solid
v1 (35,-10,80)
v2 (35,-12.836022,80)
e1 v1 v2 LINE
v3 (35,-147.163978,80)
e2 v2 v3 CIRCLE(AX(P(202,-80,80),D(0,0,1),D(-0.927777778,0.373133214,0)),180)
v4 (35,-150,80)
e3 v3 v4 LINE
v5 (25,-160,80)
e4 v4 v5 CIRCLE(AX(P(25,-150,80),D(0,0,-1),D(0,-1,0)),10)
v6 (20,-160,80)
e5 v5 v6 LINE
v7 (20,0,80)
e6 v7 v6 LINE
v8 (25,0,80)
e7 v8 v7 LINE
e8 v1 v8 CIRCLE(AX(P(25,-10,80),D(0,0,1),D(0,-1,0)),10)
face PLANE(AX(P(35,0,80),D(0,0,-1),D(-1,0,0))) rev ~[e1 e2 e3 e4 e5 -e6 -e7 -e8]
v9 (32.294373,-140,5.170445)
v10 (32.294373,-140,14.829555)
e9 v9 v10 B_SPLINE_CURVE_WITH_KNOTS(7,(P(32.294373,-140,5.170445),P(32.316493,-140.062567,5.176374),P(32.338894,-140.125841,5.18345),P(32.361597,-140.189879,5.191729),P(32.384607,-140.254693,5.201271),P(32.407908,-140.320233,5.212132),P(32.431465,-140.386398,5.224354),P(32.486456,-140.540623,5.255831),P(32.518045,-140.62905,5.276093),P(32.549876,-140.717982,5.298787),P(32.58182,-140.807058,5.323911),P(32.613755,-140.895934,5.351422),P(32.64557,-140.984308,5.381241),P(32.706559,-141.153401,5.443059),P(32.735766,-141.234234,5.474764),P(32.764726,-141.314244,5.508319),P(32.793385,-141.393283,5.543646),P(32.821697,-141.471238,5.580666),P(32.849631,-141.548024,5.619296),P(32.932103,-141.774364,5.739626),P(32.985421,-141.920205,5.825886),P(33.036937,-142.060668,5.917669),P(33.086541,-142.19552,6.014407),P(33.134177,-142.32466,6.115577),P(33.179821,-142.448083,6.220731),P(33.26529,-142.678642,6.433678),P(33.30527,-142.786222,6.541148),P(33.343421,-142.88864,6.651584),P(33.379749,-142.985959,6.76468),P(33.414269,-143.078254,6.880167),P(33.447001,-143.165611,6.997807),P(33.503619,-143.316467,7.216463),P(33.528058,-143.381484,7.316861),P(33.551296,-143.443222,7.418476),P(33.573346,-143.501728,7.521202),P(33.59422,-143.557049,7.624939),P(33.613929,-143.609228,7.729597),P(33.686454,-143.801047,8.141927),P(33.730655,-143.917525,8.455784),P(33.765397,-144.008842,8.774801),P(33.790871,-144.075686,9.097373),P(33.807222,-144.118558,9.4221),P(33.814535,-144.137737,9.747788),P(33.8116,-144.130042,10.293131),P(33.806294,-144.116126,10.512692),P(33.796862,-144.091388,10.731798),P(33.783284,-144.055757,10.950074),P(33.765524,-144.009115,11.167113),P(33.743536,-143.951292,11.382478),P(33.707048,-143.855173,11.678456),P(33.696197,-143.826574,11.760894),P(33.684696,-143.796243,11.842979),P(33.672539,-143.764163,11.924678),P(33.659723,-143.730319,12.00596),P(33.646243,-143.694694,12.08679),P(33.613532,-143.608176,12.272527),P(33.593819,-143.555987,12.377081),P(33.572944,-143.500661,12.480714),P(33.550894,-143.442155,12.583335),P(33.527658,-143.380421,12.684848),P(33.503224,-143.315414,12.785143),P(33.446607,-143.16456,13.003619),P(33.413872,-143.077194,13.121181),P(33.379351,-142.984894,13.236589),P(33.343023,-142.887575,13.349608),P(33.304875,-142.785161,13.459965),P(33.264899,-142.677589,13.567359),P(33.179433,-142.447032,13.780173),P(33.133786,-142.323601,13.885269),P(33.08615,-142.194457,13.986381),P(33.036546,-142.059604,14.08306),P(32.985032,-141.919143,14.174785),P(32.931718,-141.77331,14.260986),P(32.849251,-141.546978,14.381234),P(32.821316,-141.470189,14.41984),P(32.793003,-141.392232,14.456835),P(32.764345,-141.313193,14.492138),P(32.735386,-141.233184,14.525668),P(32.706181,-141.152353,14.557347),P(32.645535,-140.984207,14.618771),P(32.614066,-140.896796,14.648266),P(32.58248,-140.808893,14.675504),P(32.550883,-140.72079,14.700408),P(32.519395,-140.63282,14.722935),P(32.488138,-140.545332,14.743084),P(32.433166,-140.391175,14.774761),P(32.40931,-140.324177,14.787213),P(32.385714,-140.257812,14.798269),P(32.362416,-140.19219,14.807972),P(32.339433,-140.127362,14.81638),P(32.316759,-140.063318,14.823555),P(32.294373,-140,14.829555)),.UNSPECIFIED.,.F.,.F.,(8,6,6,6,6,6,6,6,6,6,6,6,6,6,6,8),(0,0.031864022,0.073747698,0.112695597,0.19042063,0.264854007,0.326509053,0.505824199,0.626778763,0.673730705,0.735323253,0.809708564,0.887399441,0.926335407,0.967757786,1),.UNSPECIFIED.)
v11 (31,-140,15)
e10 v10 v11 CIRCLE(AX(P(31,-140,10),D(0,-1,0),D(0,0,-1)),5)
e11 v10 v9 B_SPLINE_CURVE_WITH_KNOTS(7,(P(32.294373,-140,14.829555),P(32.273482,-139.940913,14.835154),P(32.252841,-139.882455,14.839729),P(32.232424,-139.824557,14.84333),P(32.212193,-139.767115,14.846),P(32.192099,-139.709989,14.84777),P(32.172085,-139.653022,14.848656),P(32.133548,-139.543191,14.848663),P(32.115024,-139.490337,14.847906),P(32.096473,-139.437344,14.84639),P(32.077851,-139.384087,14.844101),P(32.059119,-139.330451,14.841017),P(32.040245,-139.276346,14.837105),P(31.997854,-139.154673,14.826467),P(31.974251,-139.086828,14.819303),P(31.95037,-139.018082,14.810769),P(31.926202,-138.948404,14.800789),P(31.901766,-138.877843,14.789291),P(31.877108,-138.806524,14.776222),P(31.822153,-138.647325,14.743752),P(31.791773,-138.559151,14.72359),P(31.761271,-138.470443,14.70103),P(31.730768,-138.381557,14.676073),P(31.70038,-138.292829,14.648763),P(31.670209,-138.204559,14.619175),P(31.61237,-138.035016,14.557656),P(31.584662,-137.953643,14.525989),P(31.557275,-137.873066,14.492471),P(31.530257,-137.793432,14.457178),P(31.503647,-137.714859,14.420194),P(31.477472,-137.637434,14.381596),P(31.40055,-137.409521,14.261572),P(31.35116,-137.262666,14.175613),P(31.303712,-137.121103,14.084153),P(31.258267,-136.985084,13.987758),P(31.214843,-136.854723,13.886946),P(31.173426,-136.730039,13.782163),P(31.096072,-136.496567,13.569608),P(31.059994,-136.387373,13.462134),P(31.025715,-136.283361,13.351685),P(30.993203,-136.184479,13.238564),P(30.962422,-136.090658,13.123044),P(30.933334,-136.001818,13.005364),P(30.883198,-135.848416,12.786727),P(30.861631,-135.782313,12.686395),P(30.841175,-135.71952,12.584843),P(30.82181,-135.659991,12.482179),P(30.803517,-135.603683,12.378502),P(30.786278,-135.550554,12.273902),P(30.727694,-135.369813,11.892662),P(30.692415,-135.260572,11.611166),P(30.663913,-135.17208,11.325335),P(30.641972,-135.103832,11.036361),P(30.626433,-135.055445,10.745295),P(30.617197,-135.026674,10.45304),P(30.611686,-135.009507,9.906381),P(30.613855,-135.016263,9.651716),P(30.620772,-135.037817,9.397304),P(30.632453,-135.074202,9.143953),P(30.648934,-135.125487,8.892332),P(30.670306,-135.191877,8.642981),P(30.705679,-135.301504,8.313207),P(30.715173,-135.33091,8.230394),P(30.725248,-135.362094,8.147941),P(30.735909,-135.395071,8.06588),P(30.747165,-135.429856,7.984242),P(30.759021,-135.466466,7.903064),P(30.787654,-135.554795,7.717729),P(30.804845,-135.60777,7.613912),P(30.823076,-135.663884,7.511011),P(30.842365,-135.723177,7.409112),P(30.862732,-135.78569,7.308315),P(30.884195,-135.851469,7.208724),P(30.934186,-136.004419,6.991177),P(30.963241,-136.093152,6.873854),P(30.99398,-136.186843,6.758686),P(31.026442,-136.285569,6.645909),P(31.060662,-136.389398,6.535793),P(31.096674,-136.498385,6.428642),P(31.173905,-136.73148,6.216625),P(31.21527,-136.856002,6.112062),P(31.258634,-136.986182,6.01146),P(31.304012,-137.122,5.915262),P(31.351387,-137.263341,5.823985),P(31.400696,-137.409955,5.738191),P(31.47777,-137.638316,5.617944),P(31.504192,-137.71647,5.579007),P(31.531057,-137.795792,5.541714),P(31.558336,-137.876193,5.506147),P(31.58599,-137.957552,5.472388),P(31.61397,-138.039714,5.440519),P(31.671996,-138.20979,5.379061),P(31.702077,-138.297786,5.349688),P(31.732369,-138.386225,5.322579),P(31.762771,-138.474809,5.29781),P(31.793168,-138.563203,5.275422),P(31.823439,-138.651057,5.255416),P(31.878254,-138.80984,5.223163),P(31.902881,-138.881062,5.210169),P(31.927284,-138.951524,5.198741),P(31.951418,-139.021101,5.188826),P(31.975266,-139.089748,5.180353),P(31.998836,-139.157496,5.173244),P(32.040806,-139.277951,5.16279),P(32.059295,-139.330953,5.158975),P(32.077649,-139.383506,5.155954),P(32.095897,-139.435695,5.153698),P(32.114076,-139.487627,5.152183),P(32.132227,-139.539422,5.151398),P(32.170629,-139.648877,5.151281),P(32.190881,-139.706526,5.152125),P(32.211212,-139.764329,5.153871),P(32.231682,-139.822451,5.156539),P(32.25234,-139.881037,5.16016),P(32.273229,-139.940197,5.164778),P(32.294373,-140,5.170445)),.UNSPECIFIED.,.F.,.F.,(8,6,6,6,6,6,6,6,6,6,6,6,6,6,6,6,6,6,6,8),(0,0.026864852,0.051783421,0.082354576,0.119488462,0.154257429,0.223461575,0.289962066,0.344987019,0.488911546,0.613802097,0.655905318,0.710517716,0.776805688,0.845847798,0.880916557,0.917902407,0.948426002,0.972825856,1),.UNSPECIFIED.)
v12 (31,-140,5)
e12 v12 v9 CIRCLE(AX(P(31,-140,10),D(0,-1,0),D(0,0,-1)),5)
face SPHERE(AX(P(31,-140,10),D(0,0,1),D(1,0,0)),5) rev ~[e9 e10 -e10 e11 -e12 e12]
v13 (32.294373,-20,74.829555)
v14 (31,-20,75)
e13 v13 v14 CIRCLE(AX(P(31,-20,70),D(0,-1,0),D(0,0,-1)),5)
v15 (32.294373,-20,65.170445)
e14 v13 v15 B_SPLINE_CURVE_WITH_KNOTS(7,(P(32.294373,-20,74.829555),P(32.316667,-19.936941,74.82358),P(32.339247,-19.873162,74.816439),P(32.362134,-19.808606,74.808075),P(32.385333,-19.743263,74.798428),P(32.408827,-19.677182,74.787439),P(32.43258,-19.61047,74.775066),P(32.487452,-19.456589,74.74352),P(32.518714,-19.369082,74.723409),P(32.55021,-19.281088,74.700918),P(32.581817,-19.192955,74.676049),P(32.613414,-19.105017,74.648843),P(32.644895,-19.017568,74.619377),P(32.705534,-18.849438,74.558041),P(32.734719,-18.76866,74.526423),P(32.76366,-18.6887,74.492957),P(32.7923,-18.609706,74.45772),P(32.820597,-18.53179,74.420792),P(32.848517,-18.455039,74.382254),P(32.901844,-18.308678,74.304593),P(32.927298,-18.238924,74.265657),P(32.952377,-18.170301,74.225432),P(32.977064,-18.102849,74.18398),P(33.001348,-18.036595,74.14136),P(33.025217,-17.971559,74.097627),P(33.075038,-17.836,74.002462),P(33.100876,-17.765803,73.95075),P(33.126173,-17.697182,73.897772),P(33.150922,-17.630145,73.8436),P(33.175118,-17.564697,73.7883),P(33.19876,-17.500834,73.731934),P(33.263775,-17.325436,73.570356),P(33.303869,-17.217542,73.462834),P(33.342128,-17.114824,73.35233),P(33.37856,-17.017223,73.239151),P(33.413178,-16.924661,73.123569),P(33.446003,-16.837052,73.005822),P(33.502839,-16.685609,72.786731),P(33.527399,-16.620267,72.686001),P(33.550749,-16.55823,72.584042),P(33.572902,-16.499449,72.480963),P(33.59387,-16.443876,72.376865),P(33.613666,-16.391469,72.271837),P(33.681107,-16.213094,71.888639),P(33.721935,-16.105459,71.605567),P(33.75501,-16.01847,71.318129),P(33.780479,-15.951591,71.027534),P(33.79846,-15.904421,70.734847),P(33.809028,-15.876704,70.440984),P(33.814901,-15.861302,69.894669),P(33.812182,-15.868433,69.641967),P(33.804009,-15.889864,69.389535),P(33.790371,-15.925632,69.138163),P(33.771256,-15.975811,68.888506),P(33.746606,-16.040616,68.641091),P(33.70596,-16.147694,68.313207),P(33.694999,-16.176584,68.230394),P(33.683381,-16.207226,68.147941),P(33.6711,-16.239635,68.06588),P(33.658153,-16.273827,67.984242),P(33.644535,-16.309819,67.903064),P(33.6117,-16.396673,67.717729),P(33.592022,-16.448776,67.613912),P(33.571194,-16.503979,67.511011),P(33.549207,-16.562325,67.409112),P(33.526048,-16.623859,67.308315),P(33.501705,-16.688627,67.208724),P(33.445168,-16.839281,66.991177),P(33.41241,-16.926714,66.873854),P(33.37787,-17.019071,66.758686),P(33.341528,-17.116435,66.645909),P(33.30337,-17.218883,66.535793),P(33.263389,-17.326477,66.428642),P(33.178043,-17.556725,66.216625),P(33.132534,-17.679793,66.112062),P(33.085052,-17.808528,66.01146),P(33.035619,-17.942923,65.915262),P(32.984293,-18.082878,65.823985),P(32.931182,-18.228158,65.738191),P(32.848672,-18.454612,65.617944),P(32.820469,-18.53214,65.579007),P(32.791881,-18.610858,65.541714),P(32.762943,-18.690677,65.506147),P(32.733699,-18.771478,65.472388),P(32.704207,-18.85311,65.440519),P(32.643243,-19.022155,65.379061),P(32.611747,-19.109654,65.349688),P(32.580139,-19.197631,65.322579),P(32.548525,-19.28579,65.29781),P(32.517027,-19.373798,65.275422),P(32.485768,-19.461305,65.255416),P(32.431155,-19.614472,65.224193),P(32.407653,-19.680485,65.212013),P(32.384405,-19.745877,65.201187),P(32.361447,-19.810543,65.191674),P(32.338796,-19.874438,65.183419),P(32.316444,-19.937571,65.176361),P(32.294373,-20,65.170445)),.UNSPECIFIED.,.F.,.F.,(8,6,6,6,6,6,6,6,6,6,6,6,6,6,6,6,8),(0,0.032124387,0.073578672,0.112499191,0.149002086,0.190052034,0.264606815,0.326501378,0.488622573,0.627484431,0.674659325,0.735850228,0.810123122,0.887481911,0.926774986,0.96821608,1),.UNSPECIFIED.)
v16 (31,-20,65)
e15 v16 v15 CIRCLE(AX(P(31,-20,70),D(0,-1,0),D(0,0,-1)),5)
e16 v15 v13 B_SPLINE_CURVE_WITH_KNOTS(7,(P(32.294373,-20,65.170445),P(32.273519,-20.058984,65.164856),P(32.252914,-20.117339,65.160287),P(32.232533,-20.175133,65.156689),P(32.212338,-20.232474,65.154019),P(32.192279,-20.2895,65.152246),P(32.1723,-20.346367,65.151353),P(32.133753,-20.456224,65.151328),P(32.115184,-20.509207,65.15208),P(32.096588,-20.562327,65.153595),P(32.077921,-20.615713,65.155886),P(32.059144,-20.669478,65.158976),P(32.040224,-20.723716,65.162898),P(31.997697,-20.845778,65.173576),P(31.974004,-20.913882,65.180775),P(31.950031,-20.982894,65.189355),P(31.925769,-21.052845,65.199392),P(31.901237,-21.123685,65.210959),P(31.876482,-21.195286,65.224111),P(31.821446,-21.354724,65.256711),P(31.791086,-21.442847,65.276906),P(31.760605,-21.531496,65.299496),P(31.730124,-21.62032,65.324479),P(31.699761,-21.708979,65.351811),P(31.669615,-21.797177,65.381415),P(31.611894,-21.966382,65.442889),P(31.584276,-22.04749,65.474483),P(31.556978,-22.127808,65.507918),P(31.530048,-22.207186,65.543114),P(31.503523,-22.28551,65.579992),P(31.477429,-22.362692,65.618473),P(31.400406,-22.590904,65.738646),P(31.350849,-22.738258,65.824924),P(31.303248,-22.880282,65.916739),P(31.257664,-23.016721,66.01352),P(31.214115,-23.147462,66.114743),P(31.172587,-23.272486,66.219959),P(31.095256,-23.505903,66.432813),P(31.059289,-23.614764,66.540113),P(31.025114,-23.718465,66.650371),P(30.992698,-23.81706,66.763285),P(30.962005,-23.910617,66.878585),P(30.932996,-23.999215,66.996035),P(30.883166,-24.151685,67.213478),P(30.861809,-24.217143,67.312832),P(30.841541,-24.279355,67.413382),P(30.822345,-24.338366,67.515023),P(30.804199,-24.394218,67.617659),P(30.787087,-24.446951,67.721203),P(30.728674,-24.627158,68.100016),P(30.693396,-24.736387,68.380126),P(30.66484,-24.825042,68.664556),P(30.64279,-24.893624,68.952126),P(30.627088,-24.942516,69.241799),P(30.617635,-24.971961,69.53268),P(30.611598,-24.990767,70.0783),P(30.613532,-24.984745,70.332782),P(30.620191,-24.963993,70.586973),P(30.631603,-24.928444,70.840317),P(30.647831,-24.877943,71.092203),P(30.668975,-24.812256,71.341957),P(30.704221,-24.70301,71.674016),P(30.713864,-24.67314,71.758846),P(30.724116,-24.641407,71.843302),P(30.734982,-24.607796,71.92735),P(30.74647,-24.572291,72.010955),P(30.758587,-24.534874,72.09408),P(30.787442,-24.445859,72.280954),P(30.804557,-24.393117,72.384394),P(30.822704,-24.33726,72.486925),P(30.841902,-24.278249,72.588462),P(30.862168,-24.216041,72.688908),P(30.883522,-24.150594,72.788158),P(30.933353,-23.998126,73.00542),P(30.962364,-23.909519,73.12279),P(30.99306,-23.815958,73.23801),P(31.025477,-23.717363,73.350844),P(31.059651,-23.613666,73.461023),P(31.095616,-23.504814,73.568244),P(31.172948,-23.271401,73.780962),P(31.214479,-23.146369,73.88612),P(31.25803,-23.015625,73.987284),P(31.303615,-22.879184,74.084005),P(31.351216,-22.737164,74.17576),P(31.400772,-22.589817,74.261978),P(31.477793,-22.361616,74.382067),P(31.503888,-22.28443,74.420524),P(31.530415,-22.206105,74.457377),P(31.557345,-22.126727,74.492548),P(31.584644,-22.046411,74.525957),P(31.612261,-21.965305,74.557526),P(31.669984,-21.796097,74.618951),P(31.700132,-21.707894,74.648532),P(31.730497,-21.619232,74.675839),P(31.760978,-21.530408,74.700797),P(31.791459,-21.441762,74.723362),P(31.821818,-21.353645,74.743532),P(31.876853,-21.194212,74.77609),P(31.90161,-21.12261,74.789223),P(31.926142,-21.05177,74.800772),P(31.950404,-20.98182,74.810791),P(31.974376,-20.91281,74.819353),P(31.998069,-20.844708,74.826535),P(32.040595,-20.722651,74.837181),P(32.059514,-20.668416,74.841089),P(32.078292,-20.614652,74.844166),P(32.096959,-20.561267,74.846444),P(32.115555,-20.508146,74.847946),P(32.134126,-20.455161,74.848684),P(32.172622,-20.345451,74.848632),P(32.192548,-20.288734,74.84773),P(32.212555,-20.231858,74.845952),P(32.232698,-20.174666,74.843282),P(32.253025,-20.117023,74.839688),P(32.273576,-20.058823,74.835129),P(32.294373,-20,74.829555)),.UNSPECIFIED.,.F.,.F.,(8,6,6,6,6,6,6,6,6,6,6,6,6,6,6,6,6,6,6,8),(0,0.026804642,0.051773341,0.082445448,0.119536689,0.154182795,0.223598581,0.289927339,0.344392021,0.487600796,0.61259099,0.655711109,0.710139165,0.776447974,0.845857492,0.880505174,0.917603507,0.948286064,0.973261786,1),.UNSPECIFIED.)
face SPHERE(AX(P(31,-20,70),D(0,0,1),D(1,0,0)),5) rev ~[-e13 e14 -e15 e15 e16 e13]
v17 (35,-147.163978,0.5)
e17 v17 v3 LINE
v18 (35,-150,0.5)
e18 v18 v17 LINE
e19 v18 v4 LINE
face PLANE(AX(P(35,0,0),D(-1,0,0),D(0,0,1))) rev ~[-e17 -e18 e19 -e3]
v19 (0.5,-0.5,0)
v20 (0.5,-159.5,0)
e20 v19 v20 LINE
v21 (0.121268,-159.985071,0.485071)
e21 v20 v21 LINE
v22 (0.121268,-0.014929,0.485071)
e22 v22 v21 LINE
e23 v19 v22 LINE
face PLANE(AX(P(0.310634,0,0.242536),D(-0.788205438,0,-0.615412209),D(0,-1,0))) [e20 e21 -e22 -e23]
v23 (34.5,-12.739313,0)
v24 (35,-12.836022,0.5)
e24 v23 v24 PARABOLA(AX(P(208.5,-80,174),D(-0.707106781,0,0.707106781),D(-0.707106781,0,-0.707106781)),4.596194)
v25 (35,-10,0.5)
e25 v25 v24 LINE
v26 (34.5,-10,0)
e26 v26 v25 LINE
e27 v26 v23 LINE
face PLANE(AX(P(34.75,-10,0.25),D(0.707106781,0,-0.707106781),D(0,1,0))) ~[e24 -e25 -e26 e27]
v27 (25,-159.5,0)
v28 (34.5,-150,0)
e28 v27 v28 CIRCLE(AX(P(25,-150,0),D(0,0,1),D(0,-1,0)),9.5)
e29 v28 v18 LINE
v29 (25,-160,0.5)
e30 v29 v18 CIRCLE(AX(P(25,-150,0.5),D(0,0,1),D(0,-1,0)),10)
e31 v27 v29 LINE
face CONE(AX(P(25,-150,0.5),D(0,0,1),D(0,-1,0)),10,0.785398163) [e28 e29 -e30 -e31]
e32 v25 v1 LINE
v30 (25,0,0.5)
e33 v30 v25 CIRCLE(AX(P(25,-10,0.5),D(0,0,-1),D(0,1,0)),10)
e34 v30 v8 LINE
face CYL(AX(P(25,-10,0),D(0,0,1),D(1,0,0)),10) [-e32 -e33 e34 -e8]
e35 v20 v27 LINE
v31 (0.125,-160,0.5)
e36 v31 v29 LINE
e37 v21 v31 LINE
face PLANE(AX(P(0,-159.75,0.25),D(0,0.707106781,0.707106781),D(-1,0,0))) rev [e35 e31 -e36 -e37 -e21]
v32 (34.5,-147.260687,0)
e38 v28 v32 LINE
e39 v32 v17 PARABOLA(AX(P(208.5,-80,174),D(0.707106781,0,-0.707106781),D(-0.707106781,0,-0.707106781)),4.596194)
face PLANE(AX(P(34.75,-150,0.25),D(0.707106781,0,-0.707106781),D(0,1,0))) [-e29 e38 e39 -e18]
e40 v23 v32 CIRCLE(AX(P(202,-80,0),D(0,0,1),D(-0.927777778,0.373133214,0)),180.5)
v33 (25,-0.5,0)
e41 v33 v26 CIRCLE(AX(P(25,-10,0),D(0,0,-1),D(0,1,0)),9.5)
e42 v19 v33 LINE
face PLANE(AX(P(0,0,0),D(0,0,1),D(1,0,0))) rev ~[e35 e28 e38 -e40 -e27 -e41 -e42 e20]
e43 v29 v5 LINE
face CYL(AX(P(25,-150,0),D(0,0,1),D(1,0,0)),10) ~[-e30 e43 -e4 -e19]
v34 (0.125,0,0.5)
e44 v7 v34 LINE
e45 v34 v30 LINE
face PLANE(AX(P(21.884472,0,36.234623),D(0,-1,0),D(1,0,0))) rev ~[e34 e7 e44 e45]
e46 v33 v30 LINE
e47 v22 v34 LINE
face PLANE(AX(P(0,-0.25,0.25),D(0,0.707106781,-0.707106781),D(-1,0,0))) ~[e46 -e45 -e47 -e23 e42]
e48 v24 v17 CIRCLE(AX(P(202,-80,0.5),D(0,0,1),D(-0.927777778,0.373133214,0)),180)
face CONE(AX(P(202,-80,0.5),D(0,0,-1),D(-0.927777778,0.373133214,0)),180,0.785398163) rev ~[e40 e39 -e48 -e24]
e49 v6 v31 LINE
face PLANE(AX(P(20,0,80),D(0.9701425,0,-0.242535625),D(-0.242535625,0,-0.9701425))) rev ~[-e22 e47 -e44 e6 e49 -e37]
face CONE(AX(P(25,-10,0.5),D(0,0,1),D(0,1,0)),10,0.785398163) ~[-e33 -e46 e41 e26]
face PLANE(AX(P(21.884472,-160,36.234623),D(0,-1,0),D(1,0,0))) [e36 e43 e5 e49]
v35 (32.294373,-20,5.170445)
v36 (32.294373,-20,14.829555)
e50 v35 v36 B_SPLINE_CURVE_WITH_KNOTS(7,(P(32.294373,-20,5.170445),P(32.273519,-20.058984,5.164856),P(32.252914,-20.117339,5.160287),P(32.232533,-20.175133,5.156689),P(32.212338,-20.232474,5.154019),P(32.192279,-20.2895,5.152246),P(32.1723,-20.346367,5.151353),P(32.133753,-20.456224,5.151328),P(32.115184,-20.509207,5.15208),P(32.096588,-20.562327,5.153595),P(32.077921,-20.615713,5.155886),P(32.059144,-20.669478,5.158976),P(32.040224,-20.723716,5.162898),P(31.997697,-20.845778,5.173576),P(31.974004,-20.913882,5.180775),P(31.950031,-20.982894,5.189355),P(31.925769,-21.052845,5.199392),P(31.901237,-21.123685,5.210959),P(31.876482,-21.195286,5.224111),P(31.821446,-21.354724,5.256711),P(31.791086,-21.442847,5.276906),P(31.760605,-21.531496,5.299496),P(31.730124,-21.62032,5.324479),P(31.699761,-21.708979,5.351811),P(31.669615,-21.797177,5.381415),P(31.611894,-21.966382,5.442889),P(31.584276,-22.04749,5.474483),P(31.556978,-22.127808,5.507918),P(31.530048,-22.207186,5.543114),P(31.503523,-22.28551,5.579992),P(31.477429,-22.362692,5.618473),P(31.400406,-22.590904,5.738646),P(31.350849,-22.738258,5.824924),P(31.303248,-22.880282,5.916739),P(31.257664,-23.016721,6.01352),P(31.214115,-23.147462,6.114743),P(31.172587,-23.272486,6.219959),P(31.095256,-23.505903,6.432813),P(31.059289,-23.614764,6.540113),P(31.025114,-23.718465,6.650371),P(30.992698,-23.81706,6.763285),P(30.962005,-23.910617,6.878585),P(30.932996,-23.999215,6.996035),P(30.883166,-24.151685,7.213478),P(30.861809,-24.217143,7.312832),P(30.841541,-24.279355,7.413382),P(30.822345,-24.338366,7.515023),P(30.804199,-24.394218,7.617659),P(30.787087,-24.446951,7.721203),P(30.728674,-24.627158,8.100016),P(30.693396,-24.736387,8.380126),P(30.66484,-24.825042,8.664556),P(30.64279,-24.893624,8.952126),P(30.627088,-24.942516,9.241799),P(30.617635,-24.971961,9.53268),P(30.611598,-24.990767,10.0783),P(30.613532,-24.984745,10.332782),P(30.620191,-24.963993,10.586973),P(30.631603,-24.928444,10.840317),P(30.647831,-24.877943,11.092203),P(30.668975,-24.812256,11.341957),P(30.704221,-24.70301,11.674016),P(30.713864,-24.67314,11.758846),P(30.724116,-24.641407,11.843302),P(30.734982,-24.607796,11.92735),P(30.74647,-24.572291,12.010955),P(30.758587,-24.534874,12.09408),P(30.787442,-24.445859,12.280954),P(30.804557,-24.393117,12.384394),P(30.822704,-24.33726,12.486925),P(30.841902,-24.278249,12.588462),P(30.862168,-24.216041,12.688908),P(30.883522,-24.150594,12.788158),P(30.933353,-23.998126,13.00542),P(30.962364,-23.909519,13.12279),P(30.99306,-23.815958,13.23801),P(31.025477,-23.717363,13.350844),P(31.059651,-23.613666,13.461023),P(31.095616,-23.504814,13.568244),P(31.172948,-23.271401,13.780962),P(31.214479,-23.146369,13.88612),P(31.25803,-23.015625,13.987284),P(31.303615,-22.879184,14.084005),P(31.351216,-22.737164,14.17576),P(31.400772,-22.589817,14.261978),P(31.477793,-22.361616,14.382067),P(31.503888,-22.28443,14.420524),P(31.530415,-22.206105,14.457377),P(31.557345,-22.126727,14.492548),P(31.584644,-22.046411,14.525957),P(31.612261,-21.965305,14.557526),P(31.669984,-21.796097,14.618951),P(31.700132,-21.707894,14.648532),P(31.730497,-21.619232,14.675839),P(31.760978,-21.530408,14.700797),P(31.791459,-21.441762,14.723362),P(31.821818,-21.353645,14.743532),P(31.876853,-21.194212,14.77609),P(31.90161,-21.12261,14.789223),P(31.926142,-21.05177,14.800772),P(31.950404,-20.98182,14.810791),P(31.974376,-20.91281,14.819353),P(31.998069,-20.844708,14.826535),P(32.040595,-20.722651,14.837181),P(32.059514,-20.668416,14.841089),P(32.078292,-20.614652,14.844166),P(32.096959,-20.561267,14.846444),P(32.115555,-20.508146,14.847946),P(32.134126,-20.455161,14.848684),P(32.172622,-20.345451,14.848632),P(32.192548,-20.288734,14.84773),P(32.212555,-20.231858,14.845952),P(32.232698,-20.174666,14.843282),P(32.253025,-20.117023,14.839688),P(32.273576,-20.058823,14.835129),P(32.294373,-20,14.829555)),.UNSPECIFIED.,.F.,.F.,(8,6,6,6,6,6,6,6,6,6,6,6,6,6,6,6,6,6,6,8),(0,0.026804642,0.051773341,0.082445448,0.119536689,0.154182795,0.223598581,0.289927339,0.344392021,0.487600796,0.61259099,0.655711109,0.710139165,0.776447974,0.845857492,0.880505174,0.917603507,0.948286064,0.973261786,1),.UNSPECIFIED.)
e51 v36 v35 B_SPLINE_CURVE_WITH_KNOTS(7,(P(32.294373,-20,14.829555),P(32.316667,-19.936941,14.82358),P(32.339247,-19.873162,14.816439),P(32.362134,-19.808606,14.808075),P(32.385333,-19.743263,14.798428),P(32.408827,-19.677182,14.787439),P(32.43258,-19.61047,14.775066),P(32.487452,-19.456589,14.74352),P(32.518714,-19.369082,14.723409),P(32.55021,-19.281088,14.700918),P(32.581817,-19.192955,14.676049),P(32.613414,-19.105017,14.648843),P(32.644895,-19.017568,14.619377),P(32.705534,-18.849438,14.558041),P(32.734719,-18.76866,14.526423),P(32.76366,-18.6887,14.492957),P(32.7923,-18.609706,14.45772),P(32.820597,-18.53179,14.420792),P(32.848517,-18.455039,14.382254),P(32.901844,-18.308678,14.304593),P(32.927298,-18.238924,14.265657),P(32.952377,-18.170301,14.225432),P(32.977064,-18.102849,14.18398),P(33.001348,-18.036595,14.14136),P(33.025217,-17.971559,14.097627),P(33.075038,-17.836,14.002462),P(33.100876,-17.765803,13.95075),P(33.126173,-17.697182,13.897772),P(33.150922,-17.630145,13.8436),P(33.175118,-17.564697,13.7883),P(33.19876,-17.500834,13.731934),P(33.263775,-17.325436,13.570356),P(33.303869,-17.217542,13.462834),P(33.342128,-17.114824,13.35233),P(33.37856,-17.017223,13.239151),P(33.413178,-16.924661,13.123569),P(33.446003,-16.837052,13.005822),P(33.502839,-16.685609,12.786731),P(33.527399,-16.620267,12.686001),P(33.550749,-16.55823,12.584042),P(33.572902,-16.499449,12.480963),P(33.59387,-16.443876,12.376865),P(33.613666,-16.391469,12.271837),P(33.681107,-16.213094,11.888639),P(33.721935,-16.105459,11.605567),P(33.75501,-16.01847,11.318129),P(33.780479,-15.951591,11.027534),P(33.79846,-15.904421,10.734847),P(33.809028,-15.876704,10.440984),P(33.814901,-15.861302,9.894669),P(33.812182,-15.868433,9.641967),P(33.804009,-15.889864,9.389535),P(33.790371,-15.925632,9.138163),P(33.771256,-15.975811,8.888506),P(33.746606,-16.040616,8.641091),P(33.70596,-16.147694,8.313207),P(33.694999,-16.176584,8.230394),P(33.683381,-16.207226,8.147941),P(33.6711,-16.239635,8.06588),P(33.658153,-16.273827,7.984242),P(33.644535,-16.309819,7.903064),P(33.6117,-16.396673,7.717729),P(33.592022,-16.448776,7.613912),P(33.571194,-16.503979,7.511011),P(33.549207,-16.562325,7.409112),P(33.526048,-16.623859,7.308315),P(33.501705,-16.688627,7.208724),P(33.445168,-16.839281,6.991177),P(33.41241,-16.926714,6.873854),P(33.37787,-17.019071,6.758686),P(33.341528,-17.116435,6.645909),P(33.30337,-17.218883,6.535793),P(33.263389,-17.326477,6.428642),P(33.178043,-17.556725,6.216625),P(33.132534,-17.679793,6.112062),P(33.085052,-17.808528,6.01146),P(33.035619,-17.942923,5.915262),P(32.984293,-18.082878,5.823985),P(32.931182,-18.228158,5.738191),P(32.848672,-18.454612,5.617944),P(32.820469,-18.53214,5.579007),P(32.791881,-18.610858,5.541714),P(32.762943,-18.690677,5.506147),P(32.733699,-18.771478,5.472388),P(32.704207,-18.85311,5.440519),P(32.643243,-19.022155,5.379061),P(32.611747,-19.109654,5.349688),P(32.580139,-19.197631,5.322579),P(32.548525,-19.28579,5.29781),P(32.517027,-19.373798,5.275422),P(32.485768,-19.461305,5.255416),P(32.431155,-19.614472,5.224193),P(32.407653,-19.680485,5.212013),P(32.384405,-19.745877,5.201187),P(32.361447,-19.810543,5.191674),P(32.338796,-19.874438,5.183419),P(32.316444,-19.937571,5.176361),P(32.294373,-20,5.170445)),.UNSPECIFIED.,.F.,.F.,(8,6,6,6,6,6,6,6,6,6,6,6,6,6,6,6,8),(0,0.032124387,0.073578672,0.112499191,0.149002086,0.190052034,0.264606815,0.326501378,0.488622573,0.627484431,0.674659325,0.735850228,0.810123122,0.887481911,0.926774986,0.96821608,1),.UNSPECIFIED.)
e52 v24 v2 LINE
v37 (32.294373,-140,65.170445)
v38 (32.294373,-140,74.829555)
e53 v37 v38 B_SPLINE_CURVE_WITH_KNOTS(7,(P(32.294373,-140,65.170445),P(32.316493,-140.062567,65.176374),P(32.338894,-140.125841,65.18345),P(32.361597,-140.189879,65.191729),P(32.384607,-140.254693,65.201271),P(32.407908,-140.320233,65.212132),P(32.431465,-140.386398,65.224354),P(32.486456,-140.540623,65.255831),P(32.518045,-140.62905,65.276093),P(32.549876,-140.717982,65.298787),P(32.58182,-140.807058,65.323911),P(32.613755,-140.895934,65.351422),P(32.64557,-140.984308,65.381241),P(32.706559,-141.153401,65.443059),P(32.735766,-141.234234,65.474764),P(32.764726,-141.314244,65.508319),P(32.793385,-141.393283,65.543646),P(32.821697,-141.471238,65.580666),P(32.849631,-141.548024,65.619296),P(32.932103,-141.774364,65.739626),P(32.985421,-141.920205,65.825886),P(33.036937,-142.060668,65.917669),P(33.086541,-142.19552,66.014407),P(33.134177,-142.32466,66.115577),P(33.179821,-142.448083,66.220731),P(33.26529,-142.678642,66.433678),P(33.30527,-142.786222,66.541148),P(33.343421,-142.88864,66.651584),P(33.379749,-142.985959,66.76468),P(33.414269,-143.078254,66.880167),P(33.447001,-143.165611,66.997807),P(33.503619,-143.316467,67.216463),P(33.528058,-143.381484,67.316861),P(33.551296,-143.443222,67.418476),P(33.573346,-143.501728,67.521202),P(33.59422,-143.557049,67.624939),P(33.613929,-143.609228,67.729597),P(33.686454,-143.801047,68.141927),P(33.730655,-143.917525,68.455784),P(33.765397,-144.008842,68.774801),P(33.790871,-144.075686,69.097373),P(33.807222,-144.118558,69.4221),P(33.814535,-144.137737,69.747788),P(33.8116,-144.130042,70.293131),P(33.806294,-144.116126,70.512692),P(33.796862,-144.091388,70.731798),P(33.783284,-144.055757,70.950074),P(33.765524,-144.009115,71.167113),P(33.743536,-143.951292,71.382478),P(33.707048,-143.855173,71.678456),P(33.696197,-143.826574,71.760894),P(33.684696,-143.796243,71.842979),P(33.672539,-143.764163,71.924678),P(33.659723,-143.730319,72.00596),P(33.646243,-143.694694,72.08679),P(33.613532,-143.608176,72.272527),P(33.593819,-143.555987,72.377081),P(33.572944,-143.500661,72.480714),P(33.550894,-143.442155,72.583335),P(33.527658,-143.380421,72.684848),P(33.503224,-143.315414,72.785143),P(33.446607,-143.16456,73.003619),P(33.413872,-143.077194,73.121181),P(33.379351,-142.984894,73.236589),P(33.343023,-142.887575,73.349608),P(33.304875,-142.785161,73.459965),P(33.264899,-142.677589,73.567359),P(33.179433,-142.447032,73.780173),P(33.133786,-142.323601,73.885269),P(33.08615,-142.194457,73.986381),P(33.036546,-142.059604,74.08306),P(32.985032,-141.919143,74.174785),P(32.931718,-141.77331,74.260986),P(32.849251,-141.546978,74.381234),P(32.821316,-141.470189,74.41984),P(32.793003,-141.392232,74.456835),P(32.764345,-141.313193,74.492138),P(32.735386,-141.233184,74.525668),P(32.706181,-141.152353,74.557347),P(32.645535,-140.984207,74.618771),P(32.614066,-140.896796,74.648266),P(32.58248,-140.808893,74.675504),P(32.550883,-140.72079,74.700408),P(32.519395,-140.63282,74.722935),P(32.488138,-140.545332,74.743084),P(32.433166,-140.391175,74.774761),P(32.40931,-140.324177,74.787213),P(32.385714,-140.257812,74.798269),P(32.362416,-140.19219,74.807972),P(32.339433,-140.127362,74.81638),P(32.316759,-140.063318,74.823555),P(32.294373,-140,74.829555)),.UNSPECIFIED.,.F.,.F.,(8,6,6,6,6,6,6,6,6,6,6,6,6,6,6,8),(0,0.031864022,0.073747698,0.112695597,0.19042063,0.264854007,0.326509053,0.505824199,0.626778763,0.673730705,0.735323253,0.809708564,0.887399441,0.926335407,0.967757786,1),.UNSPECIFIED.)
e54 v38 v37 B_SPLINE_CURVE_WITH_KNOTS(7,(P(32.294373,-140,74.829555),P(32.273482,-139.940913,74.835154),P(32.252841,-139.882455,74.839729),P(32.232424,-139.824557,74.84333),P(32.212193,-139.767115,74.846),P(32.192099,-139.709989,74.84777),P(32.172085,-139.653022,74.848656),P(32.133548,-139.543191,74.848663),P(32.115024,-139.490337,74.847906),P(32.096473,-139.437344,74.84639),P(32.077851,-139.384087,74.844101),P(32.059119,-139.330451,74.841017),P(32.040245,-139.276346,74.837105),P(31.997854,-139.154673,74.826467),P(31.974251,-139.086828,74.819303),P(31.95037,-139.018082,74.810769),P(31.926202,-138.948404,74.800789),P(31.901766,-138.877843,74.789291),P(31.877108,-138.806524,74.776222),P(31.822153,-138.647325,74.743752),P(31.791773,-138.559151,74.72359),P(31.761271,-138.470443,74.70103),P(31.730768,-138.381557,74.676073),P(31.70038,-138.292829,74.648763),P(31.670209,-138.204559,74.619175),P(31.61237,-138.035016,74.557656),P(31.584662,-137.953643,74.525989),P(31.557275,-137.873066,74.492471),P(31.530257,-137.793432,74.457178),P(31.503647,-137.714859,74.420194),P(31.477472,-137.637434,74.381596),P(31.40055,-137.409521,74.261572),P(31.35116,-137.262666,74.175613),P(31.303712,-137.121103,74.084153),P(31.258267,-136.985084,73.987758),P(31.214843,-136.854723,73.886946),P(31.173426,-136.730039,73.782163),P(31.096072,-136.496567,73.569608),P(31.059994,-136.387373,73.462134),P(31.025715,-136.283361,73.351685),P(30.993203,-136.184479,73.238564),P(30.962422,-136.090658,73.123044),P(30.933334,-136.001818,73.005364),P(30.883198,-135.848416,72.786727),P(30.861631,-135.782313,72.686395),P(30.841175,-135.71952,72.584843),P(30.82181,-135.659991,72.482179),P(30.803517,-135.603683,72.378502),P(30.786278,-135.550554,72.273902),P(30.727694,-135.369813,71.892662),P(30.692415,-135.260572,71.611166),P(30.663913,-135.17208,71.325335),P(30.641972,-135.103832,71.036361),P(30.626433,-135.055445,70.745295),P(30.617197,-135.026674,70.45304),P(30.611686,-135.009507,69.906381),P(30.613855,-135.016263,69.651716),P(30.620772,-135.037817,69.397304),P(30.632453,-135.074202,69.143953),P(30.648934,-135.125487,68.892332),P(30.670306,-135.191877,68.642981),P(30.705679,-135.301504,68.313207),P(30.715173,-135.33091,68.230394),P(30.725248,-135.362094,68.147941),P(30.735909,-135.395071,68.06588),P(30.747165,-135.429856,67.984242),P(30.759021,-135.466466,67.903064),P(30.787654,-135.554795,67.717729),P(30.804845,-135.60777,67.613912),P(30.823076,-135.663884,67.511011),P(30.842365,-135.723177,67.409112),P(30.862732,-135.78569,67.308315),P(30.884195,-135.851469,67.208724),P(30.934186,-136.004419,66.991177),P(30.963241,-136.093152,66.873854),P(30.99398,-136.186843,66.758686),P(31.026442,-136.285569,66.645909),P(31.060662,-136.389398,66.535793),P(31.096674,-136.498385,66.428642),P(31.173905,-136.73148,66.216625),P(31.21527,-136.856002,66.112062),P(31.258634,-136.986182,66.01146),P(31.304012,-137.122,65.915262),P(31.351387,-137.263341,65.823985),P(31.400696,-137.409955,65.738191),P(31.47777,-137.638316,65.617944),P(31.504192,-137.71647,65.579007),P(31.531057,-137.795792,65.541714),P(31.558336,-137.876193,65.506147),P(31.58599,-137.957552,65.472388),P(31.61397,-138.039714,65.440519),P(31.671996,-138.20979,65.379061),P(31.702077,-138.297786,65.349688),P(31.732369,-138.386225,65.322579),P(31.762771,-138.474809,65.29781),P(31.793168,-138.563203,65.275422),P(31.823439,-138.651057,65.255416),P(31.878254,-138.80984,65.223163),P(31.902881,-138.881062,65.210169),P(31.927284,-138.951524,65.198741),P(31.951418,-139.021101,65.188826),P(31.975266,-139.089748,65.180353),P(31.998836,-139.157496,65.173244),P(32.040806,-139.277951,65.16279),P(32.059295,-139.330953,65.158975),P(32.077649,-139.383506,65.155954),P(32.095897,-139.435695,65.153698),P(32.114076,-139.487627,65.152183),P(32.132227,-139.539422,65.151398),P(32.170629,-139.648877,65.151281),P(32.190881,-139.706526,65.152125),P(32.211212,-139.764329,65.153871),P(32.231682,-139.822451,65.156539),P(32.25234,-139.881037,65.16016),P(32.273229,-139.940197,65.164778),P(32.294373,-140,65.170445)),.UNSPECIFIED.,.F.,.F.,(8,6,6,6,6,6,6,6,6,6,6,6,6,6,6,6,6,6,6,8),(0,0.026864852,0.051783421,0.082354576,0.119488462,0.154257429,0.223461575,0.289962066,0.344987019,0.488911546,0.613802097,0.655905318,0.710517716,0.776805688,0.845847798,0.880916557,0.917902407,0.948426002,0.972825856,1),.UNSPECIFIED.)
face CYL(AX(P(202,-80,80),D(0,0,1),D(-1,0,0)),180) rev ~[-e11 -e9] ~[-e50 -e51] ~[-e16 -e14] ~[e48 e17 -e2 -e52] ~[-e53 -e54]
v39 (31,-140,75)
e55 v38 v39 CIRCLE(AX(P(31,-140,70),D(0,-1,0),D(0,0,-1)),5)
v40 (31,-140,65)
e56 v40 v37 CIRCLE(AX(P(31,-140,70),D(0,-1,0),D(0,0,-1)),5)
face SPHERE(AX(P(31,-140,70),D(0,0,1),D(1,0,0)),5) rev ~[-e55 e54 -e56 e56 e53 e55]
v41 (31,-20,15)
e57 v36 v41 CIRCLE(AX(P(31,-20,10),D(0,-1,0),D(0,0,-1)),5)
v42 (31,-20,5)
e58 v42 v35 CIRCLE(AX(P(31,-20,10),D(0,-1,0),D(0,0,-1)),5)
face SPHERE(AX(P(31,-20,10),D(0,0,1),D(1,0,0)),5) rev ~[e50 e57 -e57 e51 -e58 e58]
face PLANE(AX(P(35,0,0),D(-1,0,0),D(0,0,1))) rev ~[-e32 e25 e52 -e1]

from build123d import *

# Parameters (mm, degrees)
PAD_DEPTH    = 160
SKETCH001_R  = 180
POCKET_DEPTH = 80.001
FILLET_R     = 10
CHAMFER_SIZE = 0.5


with BuildPart() as sph_re002:
    # Sphere002 → Sphere002 (revolve)
    with BuildSketch(Plane(origin=(31, -140, 10), x_dir=(1, 0, 0), z_dir=(0, -1, 0))):
        with BuildLine():
            ThreePointArc((0, -5), (5, 0), (0, 5))
            Line((0, 5), (0, -5))
        make_face()
    revolve(axis=Axis((31, -140, 10), (0, 0, 1)))


with BuildPart() as sph_re003:
    # Sphere003 → Sphere003 (revolve)
    with BuildSketch(Plane(origin=(31, -140, 70), x_dir=(1, 0, 0), z_dir=(0, -1, 0))):
        with BuildLine():
            ThreePointArc((0, -5), (5, 0), (0, 5))
            Line((0, 5), (0, -5))
        make_face()
    revolve(axis=Axis((31, -140, 70), (0, 0, 1)))


with BuildPart() as sph_re001:
    # Sphere001 → Sphere001 (revolve)
    with BuildSketch(Plane(origin=(31, -20, 70), x_dir=(1, 0, 0), z_dir=(0, -1, 0))):
        with BuildLine():
            ThreePointArc((0, -5), (5, 0), (0, 5))
            Line((0, 5), (0, -5))
        make_face()
    revolve(axis=Axis((31, -20, 70), (0, 0, 1)))


with BuildPart() as sph_re:
    # Sphere → Sphere (revolve)
    with BuildSketch(Plane(origin=(31, -20, 10), x_dir=(1, 0, 0), z_dir=(0, -1, 0))):
        with BuildLine():
            ThreePointArc((0, -5), (5, 0), (0, 5))
            Line((0, 5), (0, -5))
        make_face()
    revolve(axis=Axis((31, -20, 10), (0, 0, 1)))


with BuildPart() as chamfer_body:
    # Sketch → Pad (new body)
    with BuildSketch(Plane.XZ):
        Polygon((0, 0), (35, 0), (35, 80), (20, 80), align=None)
    extrude(amount=PAD_DEPTH)

    # Sketch001 → Pocket (cut, through all)
    with BuildSketch(Plane(origin=(0, 0, 80), x_dir=(-1, 0, 0), z_dir=(0, 0, 1))):
        with Locations((-202, 80)):
            Circle(SKETCH001_R)
    extrude(amount=-POCKET_DEPTH, mode=Mode.SUBTRACT)

    # Fillet
    fillet_edges = [chamfer_body.edges().sort_by_distance(p)[0] for p in [
        (35, 0, 40),
        (35, -160, 40),
    ]]
    fillet(fillet_edges, radius=FILLET_R)

    # Cut: cut Sphère
    add(sph_re.part, mode=Mode.SUBTRACT)

    # Cut001: cut Sphère001
    add(sph_re001.part, mode=Mode.SUBTRACT)

    # Cut002: cut Sphère003
    add(sph_re003.part, mode=Mode.SUBTRACT)

    # Cut003: cut Sphère002
    add(sph_re002.part, mode=Mode.SUBTRACT)

    # Chamfer
    chamfer_edges = [chamfer_body.edges().sort_by_distance(p)[0] for p in [
        (12.5, 0, 0),
        (32.071068, -2.928932, 0),
        (0, -80, 0),
        (35, -11.418011, 0),
        (12.5, -160, 0),
        (25.279882, -45.794737, 0),
        (32.071068, -157.071068, 0),
        (25.279882, -114.205263, 0),
        (35, -148.581989, 0),
    ]]
    chamfer(chamfer_edges, length=CHAMFER_SIZE)


solid = chamfer_body.part
